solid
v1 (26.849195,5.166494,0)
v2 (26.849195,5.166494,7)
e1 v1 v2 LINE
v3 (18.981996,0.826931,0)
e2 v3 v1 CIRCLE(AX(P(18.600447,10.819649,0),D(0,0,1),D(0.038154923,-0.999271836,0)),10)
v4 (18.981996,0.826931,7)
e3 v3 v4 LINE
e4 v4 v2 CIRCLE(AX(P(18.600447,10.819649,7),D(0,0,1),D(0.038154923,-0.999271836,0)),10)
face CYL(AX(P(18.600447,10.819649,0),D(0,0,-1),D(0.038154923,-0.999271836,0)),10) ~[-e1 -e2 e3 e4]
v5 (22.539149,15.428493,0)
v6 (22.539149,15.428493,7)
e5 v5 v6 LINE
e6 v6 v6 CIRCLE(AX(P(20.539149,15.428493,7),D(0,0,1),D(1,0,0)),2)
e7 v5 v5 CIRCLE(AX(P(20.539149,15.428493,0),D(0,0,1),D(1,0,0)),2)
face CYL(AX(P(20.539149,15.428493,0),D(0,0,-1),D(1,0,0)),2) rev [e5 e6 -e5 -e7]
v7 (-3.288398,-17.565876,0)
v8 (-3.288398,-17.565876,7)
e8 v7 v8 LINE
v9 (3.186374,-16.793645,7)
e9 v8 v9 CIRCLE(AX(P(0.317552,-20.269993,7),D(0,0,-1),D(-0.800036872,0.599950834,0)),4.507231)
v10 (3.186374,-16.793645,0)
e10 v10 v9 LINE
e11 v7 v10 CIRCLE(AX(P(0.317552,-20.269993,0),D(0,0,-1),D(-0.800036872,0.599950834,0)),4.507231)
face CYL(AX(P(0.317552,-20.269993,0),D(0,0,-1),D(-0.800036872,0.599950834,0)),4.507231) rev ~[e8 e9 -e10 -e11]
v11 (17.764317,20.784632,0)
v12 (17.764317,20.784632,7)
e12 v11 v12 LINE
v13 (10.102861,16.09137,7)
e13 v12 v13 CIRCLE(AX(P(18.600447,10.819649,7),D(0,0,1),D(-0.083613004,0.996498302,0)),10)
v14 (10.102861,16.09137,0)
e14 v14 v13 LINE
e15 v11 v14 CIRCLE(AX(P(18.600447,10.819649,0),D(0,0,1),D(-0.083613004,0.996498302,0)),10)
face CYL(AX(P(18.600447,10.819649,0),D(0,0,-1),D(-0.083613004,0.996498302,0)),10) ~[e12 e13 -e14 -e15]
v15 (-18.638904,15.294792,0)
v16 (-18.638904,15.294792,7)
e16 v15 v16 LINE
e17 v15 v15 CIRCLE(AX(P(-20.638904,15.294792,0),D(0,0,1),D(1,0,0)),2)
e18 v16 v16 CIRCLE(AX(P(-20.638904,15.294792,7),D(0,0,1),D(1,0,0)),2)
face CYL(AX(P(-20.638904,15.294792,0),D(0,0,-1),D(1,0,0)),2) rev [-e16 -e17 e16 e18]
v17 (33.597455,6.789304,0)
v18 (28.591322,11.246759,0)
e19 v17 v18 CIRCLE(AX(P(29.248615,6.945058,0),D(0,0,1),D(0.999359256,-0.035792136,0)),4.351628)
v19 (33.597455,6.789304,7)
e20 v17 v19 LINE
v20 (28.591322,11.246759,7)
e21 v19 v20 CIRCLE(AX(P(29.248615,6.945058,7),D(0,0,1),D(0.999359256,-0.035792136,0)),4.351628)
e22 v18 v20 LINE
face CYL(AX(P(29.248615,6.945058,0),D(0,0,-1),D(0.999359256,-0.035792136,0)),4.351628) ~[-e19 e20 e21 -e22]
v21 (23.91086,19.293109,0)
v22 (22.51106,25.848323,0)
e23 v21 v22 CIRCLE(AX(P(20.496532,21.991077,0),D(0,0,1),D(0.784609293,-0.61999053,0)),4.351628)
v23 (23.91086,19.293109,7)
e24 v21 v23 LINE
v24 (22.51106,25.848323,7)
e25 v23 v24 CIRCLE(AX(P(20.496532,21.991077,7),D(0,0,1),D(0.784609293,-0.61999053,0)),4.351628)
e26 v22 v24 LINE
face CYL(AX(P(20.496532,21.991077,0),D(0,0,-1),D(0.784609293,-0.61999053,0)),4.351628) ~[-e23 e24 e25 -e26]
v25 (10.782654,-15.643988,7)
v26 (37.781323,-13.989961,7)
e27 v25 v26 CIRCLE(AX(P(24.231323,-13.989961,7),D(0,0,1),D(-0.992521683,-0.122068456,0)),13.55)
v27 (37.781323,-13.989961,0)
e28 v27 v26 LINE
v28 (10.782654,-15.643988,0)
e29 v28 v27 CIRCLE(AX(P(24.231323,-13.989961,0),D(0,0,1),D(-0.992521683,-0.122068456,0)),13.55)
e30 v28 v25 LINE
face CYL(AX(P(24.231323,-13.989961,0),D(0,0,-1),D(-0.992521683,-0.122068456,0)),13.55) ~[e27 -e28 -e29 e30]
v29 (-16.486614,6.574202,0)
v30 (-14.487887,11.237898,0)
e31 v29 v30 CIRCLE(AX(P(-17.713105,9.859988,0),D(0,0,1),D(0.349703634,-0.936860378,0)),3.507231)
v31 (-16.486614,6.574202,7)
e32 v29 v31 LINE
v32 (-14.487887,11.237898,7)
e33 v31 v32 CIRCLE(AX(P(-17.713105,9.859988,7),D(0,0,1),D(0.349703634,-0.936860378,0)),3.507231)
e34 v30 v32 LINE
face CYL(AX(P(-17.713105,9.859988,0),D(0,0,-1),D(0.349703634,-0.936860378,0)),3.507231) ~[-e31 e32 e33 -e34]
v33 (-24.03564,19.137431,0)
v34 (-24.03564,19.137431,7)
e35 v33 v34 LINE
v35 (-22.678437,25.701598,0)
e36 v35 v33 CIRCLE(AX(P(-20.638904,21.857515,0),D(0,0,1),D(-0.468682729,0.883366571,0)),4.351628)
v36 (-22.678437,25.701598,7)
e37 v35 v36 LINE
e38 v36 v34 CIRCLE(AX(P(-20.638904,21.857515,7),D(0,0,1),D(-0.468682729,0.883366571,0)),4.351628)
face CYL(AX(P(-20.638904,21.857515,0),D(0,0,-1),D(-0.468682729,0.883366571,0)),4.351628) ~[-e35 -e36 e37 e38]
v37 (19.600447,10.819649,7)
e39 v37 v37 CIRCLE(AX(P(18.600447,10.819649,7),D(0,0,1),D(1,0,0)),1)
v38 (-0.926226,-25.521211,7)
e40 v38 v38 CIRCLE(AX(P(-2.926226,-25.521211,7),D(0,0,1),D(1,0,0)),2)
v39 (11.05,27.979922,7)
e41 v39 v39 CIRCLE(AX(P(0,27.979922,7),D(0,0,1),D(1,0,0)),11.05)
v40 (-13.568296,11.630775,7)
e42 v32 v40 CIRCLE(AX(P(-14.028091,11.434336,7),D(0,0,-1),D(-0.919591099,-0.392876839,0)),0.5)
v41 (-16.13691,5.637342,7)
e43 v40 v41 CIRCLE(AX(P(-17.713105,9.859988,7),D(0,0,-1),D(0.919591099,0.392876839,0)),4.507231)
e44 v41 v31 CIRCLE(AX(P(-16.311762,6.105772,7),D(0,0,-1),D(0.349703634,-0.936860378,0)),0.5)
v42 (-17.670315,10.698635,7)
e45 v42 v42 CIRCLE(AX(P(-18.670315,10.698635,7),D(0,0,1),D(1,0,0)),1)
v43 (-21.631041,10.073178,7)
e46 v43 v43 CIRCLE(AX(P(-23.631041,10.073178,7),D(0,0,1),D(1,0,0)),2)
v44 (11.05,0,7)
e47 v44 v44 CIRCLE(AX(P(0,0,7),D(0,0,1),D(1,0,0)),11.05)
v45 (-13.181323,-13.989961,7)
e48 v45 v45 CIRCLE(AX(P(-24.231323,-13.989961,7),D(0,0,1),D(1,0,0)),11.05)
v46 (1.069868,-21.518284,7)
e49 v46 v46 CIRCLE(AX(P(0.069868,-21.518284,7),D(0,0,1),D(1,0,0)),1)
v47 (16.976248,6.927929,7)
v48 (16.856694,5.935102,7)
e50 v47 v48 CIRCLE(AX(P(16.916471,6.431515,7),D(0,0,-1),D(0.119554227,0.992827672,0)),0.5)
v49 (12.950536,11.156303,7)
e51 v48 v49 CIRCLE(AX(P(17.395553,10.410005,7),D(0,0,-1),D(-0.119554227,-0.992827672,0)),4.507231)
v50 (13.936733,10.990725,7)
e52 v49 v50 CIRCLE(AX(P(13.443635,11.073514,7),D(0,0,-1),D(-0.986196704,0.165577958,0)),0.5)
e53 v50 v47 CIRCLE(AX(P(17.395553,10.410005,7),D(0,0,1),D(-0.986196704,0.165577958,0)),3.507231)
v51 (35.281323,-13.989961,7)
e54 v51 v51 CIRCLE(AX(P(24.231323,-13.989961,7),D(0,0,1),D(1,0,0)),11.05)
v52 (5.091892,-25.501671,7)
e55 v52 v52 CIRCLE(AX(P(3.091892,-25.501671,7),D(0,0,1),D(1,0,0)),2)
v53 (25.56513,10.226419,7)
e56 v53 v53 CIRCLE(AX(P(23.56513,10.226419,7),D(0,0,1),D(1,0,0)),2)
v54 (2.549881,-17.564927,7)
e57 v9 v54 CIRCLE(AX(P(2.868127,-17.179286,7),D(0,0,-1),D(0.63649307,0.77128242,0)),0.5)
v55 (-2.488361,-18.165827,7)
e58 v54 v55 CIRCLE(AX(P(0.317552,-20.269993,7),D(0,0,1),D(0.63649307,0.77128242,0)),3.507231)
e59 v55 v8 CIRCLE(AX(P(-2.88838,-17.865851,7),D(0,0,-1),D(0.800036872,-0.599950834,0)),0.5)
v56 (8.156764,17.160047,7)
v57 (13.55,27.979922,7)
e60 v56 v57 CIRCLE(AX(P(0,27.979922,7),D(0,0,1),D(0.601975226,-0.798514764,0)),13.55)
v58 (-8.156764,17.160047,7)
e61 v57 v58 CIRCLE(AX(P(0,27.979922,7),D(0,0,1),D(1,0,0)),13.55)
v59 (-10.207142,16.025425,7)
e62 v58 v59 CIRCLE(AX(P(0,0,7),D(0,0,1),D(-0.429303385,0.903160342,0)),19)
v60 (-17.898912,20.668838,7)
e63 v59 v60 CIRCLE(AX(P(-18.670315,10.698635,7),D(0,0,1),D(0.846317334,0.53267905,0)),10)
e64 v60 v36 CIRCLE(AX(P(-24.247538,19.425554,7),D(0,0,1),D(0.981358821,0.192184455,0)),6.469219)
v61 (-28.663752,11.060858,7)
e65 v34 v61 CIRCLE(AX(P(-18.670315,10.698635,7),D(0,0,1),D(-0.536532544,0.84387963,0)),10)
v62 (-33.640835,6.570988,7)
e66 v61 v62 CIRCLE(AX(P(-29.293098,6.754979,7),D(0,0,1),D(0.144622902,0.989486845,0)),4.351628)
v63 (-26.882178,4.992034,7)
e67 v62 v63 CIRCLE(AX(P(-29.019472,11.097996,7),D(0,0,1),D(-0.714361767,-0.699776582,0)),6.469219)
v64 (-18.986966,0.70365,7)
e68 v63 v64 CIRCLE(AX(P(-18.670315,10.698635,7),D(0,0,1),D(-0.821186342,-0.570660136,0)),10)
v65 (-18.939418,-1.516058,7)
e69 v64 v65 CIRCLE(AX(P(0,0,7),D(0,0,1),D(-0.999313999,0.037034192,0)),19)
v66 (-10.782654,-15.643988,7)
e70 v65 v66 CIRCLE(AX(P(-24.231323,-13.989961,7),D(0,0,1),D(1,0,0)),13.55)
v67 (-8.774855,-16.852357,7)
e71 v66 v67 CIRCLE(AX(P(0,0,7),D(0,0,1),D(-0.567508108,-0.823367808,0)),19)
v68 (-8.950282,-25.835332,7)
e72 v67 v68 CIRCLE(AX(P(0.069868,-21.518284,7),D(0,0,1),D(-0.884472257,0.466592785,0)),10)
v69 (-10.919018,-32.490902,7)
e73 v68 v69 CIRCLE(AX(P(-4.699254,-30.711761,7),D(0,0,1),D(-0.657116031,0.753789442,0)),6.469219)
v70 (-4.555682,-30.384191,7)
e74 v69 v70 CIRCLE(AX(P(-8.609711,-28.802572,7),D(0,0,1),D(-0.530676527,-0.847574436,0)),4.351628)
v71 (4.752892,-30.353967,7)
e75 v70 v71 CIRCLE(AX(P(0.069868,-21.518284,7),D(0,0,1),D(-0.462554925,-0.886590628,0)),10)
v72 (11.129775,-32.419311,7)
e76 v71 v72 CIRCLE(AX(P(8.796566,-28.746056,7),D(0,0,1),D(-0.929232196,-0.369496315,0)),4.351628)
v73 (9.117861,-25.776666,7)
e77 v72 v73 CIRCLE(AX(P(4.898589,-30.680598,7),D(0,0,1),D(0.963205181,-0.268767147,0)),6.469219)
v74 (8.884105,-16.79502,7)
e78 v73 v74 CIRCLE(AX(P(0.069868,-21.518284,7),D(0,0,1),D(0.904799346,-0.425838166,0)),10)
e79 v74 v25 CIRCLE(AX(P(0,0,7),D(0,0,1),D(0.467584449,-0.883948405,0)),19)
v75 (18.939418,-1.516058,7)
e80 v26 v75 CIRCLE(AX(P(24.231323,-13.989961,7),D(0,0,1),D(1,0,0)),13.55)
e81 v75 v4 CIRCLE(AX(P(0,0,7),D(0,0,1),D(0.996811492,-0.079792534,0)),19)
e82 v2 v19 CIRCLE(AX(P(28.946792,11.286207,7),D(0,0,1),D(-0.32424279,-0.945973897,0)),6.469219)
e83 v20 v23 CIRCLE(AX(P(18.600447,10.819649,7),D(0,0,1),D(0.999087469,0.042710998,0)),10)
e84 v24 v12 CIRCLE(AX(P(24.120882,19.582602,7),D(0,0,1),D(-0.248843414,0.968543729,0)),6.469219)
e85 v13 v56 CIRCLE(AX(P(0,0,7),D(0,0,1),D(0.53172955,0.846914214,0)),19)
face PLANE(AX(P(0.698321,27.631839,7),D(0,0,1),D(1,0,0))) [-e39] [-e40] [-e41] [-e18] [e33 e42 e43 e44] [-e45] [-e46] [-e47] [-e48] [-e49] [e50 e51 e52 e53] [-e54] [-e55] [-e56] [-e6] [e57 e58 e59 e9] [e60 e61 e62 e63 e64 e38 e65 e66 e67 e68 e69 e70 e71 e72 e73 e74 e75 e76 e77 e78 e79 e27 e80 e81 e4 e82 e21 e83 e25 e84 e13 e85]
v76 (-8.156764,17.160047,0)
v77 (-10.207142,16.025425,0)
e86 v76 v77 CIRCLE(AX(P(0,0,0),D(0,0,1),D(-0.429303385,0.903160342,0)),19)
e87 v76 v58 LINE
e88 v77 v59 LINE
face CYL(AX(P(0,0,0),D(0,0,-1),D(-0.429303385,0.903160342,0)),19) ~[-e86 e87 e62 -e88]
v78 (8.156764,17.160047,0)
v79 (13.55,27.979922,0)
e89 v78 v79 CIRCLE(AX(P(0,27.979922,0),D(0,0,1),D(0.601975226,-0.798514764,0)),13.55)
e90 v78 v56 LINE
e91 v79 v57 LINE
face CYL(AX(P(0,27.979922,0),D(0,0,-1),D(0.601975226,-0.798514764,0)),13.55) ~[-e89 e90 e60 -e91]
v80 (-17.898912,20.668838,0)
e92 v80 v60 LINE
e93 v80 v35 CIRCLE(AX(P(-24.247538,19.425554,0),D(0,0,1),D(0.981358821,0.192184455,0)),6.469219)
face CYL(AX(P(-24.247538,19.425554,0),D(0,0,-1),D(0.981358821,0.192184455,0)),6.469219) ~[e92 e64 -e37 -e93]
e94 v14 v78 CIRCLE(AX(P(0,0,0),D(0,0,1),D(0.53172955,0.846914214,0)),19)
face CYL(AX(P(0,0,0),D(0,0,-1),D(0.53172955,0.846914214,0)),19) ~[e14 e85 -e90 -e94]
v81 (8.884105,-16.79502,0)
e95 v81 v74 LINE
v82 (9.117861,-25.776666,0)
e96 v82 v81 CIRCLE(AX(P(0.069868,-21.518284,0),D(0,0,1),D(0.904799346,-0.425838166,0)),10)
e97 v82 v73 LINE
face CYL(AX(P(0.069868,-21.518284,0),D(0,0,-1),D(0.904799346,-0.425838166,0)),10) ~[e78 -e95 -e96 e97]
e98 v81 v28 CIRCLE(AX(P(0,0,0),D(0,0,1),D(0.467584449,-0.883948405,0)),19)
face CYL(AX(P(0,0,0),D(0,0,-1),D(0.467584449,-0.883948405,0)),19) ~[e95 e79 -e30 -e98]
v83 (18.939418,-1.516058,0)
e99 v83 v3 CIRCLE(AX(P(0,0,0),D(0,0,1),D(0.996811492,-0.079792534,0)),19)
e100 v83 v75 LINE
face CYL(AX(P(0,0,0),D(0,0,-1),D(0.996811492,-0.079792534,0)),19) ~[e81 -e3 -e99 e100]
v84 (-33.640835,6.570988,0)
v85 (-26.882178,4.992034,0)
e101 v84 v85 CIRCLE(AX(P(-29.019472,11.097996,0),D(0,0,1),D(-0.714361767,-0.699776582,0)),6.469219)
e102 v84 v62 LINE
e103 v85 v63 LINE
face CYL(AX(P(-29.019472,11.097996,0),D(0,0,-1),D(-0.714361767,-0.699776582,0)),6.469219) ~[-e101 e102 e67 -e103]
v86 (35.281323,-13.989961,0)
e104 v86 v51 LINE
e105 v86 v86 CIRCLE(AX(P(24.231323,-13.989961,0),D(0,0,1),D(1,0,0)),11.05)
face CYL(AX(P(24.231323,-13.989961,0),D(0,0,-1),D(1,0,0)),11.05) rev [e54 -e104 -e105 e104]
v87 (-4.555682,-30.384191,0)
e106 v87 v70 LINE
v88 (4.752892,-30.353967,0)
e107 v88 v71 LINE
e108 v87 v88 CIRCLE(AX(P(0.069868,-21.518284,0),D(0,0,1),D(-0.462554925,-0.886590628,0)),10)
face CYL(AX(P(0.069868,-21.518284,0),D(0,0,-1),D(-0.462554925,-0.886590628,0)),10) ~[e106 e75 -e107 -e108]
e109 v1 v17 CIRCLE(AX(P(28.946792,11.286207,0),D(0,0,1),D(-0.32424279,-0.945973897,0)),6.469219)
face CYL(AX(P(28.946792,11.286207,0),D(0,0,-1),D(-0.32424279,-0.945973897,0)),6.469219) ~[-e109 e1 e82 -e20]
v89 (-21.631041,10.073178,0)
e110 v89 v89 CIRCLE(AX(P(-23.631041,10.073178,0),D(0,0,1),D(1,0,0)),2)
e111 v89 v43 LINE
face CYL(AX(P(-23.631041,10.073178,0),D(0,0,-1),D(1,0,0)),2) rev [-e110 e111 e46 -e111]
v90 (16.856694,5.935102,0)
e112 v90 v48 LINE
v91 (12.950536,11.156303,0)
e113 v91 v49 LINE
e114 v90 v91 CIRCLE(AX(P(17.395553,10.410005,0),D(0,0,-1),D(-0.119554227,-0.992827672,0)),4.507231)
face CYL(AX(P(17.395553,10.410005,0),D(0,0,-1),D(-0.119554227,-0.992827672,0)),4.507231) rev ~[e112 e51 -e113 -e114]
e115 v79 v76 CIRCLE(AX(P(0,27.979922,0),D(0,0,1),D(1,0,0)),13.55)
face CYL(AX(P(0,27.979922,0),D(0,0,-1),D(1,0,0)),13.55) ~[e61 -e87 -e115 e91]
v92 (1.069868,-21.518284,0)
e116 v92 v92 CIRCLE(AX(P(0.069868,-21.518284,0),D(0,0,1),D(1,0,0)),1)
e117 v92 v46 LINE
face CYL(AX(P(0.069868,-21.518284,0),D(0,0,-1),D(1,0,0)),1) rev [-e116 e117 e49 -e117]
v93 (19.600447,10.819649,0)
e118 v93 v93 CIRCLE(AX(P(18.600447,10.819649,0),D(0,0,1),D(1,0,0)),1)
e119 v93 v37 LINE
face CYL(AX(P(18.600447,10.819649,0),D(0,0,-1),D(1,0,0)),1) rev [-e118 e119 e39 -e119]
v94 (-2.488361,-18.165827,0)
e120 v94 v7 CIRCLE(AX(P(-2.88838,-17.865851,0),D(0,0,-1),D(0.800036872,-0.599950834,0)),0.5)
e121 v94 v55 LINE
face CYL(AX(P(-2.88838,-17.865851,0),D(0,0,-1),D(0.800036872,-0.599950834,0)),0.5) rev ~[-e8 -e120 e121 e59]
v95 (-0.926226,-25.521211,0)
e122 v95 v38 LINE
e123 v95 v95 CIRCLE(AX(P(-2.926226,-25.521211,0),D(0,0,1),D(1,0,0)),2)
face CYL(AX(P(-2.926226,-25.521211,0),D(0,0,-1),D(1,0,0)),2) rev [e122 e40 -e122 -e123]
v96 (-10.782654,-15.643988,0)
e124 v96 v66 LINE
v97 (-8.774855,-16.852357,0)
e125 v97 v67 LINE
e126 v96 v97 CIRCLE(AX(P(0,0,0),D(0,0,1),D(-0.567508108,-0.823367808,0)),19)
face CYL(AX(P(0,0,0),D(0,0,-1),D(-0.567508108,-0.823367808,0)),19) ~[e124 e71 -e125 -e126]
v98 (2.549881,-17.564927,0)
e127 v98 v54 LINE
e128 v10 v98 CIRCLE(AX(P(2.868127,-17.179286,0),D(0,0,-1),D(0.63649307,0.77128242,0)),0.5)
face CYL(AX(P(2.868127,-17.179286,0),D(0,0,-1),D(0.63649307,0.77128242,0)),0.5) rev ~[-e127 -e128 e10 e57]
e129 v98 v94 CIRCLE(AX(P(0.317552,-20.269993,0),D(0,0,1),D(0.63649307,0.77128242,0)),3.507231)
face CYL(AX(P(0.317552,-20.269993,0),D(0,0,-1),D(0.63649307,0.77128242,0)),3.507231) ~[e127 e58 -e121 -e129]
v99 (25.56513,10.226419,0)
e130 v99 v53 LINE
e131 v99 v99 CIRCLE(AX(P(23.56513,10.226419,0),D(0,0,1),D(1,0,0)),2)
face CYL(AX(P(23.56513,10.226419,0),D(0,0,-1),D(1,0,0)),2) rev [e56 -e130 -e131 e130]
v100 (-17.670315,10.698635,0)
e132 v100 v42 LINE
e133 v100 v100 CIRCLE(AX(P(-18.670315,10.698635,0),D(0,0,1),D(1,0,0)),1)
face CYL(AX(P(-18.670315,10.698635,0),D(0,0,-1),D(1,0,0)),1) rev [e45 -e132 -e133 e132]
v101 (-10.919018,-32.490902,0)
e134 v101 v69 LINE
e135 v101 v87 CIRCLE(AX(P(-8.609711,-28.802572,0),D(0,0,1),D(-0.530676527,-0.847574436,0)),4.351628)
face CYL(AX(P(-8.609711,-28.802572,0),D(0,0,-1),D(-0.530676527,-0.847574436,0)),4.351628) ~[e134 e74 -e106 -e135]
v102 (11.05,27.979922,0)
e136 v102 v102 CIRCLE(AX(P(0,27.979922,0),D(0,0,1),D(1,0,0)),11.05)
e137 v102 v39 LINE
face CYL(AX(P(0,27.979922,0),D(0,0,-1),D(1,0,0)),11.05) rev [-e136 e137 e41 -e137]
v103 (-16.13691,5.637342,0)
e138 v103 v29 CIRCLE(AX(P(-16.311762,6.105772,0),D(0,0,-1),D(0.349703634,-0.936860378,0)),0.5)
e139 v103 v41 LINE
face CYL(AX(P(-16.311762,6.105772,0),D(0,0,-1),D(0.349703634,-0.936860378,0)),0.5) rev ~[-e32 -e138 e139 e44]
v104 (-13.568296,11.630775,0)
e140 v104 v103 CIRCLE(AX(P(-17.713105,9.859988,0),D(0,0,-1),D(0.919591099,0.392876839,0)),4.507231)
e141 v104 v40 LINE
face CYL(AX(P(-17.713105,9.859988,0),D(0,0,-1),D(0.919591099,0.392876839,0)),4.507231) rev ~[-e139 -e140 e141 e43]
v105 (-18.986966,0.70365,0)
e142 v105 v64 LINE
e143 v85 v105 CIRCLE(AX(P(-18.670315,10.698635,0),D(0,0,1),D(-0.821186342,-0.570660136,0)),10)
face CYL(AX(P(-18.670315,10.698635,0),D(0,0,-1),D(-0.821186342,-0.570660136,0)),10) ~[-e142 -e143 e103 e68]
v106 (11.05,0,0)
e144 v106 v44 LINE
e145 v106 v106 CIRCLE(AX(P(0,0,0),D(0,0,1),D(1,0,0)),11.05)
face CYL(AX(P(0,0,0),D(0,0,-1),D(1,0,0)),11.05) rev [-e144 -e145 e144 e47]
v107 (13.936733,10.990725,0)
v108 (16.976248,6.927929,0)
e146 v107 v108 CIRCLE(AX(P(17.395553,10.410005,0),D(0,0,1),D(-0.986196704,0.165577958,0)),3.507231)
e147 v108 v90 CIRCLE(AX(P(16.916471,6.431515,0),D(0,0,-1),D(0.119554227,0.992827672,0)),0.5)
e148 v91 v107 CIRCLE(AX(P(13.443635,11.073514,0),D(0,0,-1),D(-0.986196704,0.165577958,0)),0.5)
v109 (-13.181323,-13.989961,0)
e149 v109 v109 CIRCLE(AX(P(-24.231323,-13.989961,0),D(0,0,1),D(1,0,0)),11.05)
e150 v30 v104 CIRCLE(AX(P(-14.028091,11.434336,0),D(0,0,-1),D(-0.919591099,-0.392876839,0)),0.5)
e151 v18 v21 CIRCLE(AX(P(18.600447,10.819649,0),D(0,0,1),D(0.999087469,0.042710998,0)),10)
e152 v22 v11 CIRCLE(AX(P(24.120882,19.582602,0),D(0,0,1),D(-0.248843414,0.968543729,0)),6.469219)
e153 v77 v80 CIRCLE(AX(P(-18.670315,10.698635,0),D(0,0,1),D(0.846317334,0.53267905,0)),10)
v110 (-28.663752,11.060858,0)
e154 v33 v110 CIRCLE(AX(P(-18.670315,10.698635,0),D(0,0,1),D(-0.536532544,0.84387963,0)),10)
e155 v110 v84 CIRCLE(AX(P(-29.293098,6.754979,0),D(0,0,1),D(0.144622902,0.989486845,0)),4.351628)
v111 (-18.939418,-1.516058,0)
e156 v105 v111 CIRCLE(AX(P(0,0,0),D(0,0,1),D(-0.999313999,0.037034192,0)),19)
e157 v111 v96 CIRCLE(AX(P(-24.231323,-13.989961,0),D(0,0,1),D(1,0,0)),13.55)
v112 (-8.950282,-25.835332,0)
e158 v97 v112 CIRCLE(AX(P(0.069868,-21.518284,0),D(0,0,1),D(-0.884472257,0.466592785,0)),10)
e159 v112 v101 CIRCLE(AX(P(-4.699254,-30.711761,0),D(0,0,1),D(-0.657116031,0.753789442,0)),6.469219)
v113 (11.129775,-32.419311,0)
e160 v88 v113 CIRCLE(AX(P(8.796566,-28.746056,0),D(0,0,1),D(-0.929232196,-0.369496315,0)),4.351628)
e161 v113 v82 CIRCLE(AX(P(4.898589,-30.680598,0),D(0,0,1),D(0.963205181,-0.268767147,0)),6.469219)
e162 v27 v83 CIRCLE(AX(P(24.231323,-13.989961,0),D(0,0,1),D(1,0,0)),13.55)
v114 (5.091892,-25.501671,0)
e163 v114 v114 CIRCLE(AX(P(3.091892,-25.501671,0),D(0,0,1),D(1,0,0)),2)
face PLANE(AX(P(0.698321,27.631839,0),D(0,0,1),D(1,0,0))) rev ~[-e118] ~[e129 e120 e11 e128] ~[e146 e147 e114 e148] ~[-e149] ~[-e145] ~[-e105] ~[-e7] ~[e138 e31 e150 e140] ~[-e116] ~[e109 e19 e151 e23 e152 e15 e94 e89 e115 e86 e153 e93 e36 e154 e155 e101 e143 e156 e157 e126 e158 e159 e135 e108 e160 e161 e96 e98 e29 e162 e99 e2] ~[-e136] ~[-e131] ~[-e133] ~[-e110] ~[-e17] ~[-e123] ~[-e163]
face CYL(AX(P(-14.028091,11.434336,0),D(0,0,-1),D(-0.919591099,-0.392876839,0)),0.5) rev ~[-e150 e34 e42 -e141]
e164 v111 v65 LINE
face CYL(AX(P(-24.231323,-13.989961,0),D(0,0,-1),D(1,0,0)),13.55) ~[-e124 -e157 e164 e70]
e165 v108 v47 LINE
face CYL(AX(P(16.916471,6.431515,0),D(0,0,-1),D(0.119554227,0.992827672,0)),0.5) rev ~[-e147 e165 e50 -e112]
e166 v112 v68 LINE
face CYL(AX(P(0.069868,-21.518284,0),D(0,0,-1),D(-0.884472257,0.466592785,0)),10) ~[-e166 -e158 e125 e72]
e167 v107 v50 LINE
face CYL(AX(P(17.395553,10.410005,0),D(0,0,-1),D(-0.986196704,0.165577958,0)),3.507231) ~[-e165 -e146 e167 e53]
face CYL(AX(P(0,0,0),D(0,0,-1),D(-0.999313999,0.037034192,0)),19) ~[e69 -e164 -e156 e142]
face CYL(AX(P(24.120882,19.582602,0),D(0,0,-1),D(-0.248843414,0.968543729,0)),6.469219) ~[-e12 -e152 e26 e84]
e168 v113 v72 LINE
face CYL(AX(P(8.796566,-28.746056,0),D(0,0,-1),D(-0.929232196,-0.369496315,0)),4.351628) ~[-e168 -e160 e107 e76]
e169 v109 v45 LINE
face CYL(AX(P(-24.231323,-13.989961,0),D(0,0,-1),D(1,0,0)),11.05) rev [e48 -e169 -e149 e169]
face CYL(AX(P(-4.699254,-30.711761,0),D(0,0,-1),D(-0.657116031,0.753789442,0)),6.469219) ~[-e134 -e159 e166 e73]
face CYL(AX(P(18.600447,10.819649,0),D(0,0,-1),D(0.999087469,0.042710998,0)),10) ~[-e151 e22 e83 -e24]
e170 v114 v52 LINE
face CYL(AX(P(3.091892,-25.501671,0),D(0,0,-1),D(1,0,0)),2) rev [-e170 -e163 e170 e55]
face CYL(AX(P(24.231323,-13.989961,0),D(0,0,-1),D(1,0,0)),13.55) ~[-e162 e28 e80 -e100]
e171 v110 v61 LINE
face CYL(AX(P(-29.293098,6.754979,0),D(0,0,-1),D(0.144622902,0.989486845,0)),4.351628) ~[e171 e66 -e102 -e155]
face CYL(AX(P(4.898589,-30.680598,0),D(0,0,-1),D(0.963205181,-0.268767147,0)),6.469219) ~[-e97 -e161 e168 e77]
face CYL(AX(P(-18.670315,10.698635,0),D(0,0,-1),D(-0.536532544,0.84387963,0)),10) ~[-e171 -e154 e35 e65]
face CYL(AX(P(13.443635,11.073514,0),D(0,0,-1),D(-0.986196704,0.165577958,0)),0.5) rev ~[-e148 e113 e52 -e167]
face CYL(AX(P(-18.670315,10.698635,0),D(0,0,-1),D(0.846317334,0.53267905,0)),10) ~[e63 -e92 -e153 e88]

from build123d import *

# Parameters (mm, degrees)
F0_R     = 11.05
F0_R_2   = 1
F0_R_3   = 2
F1_DEPTH = 7


with BuildPart() as f1:
    # F0 (on Top) → F1 (new body)
    with BuildSketch(Plane.XY):
        with BuildLine():
            ThreePointArc((-8.1567643089, 17.1600465037), (0, 14.4299215496), (8.1567643089, 17.1600465037))
            ThreePointArc((8.1567643089, 17.1600465037), (12.1269669824, 21.9351575503), (13.55, 27.9799215496))
            ThreePointArc((13.55, 27.9799215496), (-6.0447639993, 40.106888532), (-8.1567643089, 17.1600465037))
        make_face()
        with Locations((0, 27.9799215496)):
            Circle(F0_R, mode=Mode.SUBTRACT)
        with BuildLine():
            ThreePointArc((37.7813228578, -13.9899607748), (31.7112023358, -2.6915581003), (18.9394183568, -1.5160581476))
            ThreePointArc((18.9394183568, -1.5160581476), (12.4966786365, -7.2149607748), (10.7826540478, -15.6439883561))
            ThreePointArc((10.7826540478, -15.6439883561), (25.0598871658, -27.5146042521), (37.7813228578, -13.9899607748))
        make_face()
        with Locations((24.2313228578, -13.9899607748)):
            Circle(F0_R, mode=Mode.SUBTRACT)
        with BuildLine():
            ThreePointArc((-18.9394183568, -1.5160581476), (-35.9659670791, -20.7649607748), (-10.7826540478, -15.6439883561))
            ThreePointArc((-10.7826540478, -15.6439883561), (-10.7066793805, -14.8185250827), (-10.6813228578, -13.9899607748))
            ThreePointArc((-10.6813228578, -13.9899607748), (-12.9329201833, -6.5100812968), (-18.9394183568, -1.5160581476))
        make_face()
        with Locations((-24.2313228578, -13.9899607748)):
            Circle(F0_R, mode=Mode.SUBTRACT)
        with BuildLine():
            ThreePointArc((4.7600365071, -12.6863924128), (11.1377958922, -7.7169944062), (13.55, 0))
            ThreePointArc((13.55, 0), (13.5004224782, 1.1580556593), (13.352052707, 2.3076369968))
            ThreePointArc((13.352052707, 2.3076369968), (11.7125847278, 6.8130653155), (8.6067198583, 10.4655087445))
            ThreePointArc((8.6067198583, 10.4655087445), (-0.0439952769, 13.549928576), (-8.6744986155, 10.4093983385))
            ThreePointArc((-8.6744986155, 10.4093983385), (-11.7565800048, 6.7368632605), (-13.3667563654, 2.2208836683))
            ThreePointArc((-13.3667563654, 2.2208836683), (-11.7125847278, -6.8130653155), (-4.6775540916, -12.7170353353))
            ThreePointArc((-4.6775540916, -12.7170353353), (0.0439952769, -13.549928576), (4.7600365071, -12.6863924128))
        make_face()
        Circle(F0_R, mode=Mode.SUBTRACT)
        with BuildLine():
            ThreePointArc((-8.7748548257, -16.8523565945), (-7.0337804641, -14.4799478416), (-4.6775540916, -12.7170353353))
            ThreePointArc((-4.6775540916, -12.7170353353), (-11.7125847278, -6.8130653155), (-13.3667563654, 2.2208836683))
            ThreePointArc((-13.3667563654, 2.2208836683), (-16.0640126782, 1.044247953), (-18.9869659815, 0.7036496412))
            ThreePointArc((-18.9869659815, 0.7036496412), (-18.9956424716, -0.4068993604), (-18.9394183568, -1.5160581476))
            ThreePointArc((-18.9394183568, -1.5160581476), (-12.9329201833, -6.5100812968), (-10.6813228578, -13.9899607748))
            ThreePointArc((-10.6813228578, -13.9899607748), (-10.7066793805, -14.8185250827), (-10.7826540478, -15.6439883561))
            ThreePointArc((-10.7826540478, -15.6439883561), (-9.7974015323, -16.2791560965), (-8.7748548257, -16.8523565945))
        make_face()
        with BuildLine():
            ThreePointArc((-8.6744986155, 10.4093983385), (-0.0439952769, 13.549928576), (8.6067198583, 10.4655087445))
            ThreePointArc((8.6067198583, 10.4655087445), (8.9363515943, 13.3897190895), (10.1028614554, 16.0913700602))
            ThreePointArc((10.1028614554, 16.0913700602), (9.1454360529, 16.6541586219), (8.1567643089, 17.1600465037))
            ThreePointArc((8.1567643089, 17.1600465037), (0, 14.4299215496), (-8.1567643089, 17.1600465037))
            ThreePointArc((-8.1567643089, 17.1600465037), (-9.1994619657, 16.6243766663), (-10.2071415116, 16.0254254908))
            ThreePointArc((-10.2071415116, 16.0254254908), (-9.0231124442, 13.3314064874), (-8.6744986155, 10.4093983385))
        make_face()
        with BuildLine():
            ThreePointArc((13.352052707, 2.3076369968), (13.5004224782, 1.1580556593), (13.55, 0))
            ThreePointArc((13.55, 0), (11.1377958922, -7.7169944062), (4.7600365071, -12.6863924128))
            ThreePointArc((4.7600365071, -12.6863924128), (7.1276610839, -14.4339670425), (8.8841045261, -16.7950197013))
            ThreePointArc((8.8841045261, -16.7950197013), (9.8502064187, -16.2472592614), (10.7826540478, -15.6439883561))
            ThreePointArc((10.7826540478, -15.6439883561), (12.4966786365, -7.2149607748), (18.9394183568, -1.5160581476))
            ThreePointArc((18.9394183568, -1.5160581476), (18.9968634979, -0.3452205697), (18.9819963373, 0.8269311037))
            ThreePointArc((18.9819963373, 0.8269311037), (16.0568929083, 1.1485413542), (13.352052707, 2.3076369968))
        make_face()
        with BuildLine():
            ThreePointArc((8.6067198583, 10.4655087445), (11.7125847278, 6.8130653155), (13.352052707, 2.3076369968))
            ThreePointArc((13.352052707, 2.3076369968), (16.0568929083, 1.1485413542), (18.9819963373, 0.8269311037))
            ThreePointArc((18.9819963373, 0.8269311037), (23.4304012279, 2.0634206387), (26.8491945381, 5.1664940737))
            ThreePointArc((26.8491945381, 5.1664940737), (28.2136339107, 8.0652639574), (28.5913217984, 11.246759439))
            ThreePointArc((28.5913217984, 11.246759439), (27.2444210774, 15.8477419457), (23.9108601236, 19.2931088268))
            ThreePointArc((23.9108601236, 19.2931088268), (20.9586164714, 20.5376244184), (17.7643170713, 20.7846324805))
            ThreePointArc((17.7643170713, 20.7846324805), (13.3768238274, 19.3468858147), (10.1028614554, 16.0913700602))
            ThreePointArc((10.1028614554, 16.0913700602), (8.9363515943, 13.3897190895), (8.6067198583, 10.4655087445))
        make_face()
        with BuildLine():
            ThreePointArc((12.9505363993, 11.1563030517), (13.5264237307, 11.5666124247), (13.9367331037, 10.9907250933))
            ThreePointArc((13.9367331037, 10.9907250933), (14.5872544025, 8.309022028), (16.9762482984, 6.9279291798))
            ThreePointArc((16.9762482984, 6.9279291798), (17.4128850212, 6.3717382302), (16.8566940716, 5.9351015075))
            ThreePointArc((16.8566940716, 5.9351015075), (13.7865377349, 7.7099787756), (12.9505363993, 11.1563030517))
        make_face(mode=Mode.SUBTRACT)
        with Locations((18.6004471086, 10.8196494619)):
            Circle(F0_R_2, mode=Mode.SUBTRACT)
        with Locations((23.5651301856, 10.2264193675)):
            Circle(F0_R_3, mode=Mode.SUBTRACT)
        with Locations((20.539148591, 15.4284927617)):
            Circle(F0_R_3, mode=Mode.SUBTRACT)
        with BuildLine():
            ThreePointArc((28.5913217984, 11.246759439), (28.2136339107, 8.0652639574), (26.8491945381, 5.1664940737))
            ThreePointArc((26.8491945381, 5.1664940737), (30.4593772075, 4.9963032192), (33.5974550448, 6.789303866))
            ThreePointArc((33.5974550448, 6.789303866), (32.1424199084, 10.1950675609), (28.5913217984, 11.246759439))
        make_face()
        with BuildLine():
            ThreePointArc((22.5110596529, 25.8483234616), (19.4011285413, 24.00693477), (17.7643170713, 20.7846324805))
            ThreePointArc((17.7643170713, 20.7846324805), (20.9586164714, 20.5376244184), (23.9108601236, 19.2931088268))
            ThreePointArc((23.9108601236, 19.2931088268), (24.7522139126, 22.8998355139), (22.5110596529, 25.8483234616))
        make_face()
        with BuildLine():
            ThreePointArc((-13.3667563654, 2.2208836683), (-11.7565800048, 6.7368632605), (-8.6744986155, 10.4093983385))
            ThreePointArc((-8.6744986155, 10.4093983385), (-9.0231124442, 13.3314064874), (-10.2071415116, 16.0254254908))
            ThreePointArc((-10.2071415116, 16.0254254908), (-13.5021753057, 19.2596123649), (-17.8989123854, 20.6688375043))
            ThreePointArc((-17.8989123854, 20.6688375043), (-21.0915404306, 20.401091721), (-24.0356402836, 19.1374312857))
            ThreePointArc((-24.0356402836, 19.1374312857), (-27.3467576563, 15.6704897916), (-28.6637524238, 11.06085788))
            ThreePointArc((-28.6637524238, 11.06085788), (-28.2654127155, 7.8818820832), (-26.8821782721, 4.9920336244))
            ThreePointArc((-26.8821782721, 4.9920336244), (-23.4433065133, 1.9112263491), (-18.9869659815, 0.7036496412))
            ThreePointArc((-18.9869659815, 0.7036496412), (-16.0640126782, 1.044247953), (-13.3667563654, 2.2208836683))
        make_face()
        with Locations((-23.6310409692, 10.0731780711)):
            Circle(F0_R_3, mode=Mode.SUBTRACT)
        with Locations((-20.6389040547, 15.2947917005)):
            Circle(F0_R_3, mode=Mode.SUBTRACT)
        with BuildLine():
            ThreePointArc((-13.5682957153, 11.6307745361), (-13.5703063498, 8.0845025208), (-16.1369100547, 5.6373419886))
            ThreePointArc((-16.1369100547, 5.6373419886), (-16.7801920608, 5.9309203608), (-16.4866136886, 6.5742023669))
            ThreePointArc((-16.4866136886, 6.5742023669), (-14.4894513581, 8.47842187), (-14.4878868145, 11.2378976975))
            ThreePointArc((-14.4878868145, 11.2378976975), (-14.2245296842, 11.8941316664), (-13.5682957153, 11.6307745361))
        make_face(mode=Mode.SUBTRACT)
        with Locations((-18.6703148483, 10.6986349868)):
            Circle(F0_R_2, mode=Mode.SUBTRACT)
        with BuildLine():
            ThreePointArc((-24.0356402836, 19.1374312857), (-21.0915404306, 20.401091721), (-17.8989123854, 20.6688375043))
            ThreePointArc((-17.8989123854, 20.6688375043), (-19.5566141165, 23.8804428355), (-22.6784371444, 25.7015976383))
            ThreePointArc((-22.6784371444, 25.7015976383), (-24.9003974552, 22.7386183993), (-24.0356402836, 19.1374312857))
        make_face()
        with BuildLine():
            ThreePointArc((-33.6408345895, 6.5709877947), (-30.4911796484, 4.7984027938), (-26.8821782721, 4.9920336244))
            ThreePointArc((-26.8821782721, 4.9920336244), (-28.2654127155, 7.8818820832), (-28.6637524238, 11.06085788))
            ThreePointArc((-28.6637524238, 11.06085788), (-32.2079462538, 9.9861282912), (-33.6408345895, 6.5709877947))
        make_face()
        with BuildLine():
            ThreePointArc((8.8841045261, -16.7950197013), (7.1276610839, -14.4339670425), (4.7600365071, -12.6863924128))
            ThreePointArc((4.7600365071, -12.6863924128), (0.0439952769, -13.549928576), (-4.6775540916, -12.7170353353))
            ThreePointArc((-4.6775540916, -12.7170353353), (-7.0337804641, -14.4799478416), (-8.7748548257, -16.8523565945))
            ThreePointArc((-8.7748548257, -16.8523565945), (-9.9282259222, -21.3230330036), (-8.9502821528, -25.835331578))
            ThreePointArc((-8.9502821528, -25.835331578), (-7.12209348, -28.4663556784), (-4.5556815148, -30.3841907247))
            ThreePointArc((-4.5556815148, -30.3841907247), (0.1023365788, -31.5182317373), (4.7528923002, -30.3539667068))
            ThreePointArc((4.7528923002, -30.3539667068), (7.3067962441, -28.4195065016), (9.1178612008, -25.7766661049))
            ThreePointArc((9.1178612008, -25.7766661049), (10.0664826859, -21.2581121638), (8.8841045261, -16.7950197013))
        make_face()
        with Locations((-2.9262261308, -25.5212110679)):
            Circle(F0_R_3, mode=Mode.SUBTRACT)
        with BuildLine():
            ThreePointArc((3.1863736554, -16.7936450403), (3.2537683301, -17.4975327855), (2.549880585, -17.5649274602))
            ThreePointArc((2.549880585, -17.5649274602), (-0.0978030444, -16.787443898), (-2.4883614839, -18.1658268773))
            ThreePointArc((-2.4883614839, -18.1658268773), (-3.1883553369, -18.2658698966), (-3.2883983563, -17.5658760436))
            ThreePointArc((-3.2883983563, -17.5658760436), (-0.2162313851, -15.7944812964), (3.1863736554, -16.7936450403))
        make_face(mode=Mode.SUBTRACT)
        with Locations((3.0918923782, -25.5016708328)):
            Circle(F0_R_3, mode=Mode.SUBTRACT)
        with Locations((0.0698677398, -21.5182844487)):
            Circle(F0_R_2, mode=Mode.SUBTRACT)
        with BuildLine():
            ThreePointArc((-4.5556815148, -30.3841907247), (-7.12209348, -28.4663556784), (-8.9502821528, -25.835331578))
            ThreePointArc((-8.9502821528, -25.835331578), (-10.9027630909, -28.8767460547), (-10.9190179004, -32.4909015044))
            ThreePointArc((-10.9190179004, -32.4909015044), (-7.2420224532, -32.9336859602), (-4.5556815148, -30.3841907247))
        make_face()
        with BuildLine():
            ThreePointArc((11.1297749366, -32.4193112564), (11.0900511072, -28.8053375638), (9.1178612008, -25.7766661049))
            ThreePointArc((9.1178612008, -25.7766661049), (7.3067962441, -28.4195065016), (4.7528923002, -30.3539667068))
            ThreePointArc((4.7528923002, -30.3539667068), (7.4557323412, -32.8859638051), (11.1297749366, -32.4193112564))
        make_face()
    extrude(amount=F1_DEPTH)


solid = f1.part
